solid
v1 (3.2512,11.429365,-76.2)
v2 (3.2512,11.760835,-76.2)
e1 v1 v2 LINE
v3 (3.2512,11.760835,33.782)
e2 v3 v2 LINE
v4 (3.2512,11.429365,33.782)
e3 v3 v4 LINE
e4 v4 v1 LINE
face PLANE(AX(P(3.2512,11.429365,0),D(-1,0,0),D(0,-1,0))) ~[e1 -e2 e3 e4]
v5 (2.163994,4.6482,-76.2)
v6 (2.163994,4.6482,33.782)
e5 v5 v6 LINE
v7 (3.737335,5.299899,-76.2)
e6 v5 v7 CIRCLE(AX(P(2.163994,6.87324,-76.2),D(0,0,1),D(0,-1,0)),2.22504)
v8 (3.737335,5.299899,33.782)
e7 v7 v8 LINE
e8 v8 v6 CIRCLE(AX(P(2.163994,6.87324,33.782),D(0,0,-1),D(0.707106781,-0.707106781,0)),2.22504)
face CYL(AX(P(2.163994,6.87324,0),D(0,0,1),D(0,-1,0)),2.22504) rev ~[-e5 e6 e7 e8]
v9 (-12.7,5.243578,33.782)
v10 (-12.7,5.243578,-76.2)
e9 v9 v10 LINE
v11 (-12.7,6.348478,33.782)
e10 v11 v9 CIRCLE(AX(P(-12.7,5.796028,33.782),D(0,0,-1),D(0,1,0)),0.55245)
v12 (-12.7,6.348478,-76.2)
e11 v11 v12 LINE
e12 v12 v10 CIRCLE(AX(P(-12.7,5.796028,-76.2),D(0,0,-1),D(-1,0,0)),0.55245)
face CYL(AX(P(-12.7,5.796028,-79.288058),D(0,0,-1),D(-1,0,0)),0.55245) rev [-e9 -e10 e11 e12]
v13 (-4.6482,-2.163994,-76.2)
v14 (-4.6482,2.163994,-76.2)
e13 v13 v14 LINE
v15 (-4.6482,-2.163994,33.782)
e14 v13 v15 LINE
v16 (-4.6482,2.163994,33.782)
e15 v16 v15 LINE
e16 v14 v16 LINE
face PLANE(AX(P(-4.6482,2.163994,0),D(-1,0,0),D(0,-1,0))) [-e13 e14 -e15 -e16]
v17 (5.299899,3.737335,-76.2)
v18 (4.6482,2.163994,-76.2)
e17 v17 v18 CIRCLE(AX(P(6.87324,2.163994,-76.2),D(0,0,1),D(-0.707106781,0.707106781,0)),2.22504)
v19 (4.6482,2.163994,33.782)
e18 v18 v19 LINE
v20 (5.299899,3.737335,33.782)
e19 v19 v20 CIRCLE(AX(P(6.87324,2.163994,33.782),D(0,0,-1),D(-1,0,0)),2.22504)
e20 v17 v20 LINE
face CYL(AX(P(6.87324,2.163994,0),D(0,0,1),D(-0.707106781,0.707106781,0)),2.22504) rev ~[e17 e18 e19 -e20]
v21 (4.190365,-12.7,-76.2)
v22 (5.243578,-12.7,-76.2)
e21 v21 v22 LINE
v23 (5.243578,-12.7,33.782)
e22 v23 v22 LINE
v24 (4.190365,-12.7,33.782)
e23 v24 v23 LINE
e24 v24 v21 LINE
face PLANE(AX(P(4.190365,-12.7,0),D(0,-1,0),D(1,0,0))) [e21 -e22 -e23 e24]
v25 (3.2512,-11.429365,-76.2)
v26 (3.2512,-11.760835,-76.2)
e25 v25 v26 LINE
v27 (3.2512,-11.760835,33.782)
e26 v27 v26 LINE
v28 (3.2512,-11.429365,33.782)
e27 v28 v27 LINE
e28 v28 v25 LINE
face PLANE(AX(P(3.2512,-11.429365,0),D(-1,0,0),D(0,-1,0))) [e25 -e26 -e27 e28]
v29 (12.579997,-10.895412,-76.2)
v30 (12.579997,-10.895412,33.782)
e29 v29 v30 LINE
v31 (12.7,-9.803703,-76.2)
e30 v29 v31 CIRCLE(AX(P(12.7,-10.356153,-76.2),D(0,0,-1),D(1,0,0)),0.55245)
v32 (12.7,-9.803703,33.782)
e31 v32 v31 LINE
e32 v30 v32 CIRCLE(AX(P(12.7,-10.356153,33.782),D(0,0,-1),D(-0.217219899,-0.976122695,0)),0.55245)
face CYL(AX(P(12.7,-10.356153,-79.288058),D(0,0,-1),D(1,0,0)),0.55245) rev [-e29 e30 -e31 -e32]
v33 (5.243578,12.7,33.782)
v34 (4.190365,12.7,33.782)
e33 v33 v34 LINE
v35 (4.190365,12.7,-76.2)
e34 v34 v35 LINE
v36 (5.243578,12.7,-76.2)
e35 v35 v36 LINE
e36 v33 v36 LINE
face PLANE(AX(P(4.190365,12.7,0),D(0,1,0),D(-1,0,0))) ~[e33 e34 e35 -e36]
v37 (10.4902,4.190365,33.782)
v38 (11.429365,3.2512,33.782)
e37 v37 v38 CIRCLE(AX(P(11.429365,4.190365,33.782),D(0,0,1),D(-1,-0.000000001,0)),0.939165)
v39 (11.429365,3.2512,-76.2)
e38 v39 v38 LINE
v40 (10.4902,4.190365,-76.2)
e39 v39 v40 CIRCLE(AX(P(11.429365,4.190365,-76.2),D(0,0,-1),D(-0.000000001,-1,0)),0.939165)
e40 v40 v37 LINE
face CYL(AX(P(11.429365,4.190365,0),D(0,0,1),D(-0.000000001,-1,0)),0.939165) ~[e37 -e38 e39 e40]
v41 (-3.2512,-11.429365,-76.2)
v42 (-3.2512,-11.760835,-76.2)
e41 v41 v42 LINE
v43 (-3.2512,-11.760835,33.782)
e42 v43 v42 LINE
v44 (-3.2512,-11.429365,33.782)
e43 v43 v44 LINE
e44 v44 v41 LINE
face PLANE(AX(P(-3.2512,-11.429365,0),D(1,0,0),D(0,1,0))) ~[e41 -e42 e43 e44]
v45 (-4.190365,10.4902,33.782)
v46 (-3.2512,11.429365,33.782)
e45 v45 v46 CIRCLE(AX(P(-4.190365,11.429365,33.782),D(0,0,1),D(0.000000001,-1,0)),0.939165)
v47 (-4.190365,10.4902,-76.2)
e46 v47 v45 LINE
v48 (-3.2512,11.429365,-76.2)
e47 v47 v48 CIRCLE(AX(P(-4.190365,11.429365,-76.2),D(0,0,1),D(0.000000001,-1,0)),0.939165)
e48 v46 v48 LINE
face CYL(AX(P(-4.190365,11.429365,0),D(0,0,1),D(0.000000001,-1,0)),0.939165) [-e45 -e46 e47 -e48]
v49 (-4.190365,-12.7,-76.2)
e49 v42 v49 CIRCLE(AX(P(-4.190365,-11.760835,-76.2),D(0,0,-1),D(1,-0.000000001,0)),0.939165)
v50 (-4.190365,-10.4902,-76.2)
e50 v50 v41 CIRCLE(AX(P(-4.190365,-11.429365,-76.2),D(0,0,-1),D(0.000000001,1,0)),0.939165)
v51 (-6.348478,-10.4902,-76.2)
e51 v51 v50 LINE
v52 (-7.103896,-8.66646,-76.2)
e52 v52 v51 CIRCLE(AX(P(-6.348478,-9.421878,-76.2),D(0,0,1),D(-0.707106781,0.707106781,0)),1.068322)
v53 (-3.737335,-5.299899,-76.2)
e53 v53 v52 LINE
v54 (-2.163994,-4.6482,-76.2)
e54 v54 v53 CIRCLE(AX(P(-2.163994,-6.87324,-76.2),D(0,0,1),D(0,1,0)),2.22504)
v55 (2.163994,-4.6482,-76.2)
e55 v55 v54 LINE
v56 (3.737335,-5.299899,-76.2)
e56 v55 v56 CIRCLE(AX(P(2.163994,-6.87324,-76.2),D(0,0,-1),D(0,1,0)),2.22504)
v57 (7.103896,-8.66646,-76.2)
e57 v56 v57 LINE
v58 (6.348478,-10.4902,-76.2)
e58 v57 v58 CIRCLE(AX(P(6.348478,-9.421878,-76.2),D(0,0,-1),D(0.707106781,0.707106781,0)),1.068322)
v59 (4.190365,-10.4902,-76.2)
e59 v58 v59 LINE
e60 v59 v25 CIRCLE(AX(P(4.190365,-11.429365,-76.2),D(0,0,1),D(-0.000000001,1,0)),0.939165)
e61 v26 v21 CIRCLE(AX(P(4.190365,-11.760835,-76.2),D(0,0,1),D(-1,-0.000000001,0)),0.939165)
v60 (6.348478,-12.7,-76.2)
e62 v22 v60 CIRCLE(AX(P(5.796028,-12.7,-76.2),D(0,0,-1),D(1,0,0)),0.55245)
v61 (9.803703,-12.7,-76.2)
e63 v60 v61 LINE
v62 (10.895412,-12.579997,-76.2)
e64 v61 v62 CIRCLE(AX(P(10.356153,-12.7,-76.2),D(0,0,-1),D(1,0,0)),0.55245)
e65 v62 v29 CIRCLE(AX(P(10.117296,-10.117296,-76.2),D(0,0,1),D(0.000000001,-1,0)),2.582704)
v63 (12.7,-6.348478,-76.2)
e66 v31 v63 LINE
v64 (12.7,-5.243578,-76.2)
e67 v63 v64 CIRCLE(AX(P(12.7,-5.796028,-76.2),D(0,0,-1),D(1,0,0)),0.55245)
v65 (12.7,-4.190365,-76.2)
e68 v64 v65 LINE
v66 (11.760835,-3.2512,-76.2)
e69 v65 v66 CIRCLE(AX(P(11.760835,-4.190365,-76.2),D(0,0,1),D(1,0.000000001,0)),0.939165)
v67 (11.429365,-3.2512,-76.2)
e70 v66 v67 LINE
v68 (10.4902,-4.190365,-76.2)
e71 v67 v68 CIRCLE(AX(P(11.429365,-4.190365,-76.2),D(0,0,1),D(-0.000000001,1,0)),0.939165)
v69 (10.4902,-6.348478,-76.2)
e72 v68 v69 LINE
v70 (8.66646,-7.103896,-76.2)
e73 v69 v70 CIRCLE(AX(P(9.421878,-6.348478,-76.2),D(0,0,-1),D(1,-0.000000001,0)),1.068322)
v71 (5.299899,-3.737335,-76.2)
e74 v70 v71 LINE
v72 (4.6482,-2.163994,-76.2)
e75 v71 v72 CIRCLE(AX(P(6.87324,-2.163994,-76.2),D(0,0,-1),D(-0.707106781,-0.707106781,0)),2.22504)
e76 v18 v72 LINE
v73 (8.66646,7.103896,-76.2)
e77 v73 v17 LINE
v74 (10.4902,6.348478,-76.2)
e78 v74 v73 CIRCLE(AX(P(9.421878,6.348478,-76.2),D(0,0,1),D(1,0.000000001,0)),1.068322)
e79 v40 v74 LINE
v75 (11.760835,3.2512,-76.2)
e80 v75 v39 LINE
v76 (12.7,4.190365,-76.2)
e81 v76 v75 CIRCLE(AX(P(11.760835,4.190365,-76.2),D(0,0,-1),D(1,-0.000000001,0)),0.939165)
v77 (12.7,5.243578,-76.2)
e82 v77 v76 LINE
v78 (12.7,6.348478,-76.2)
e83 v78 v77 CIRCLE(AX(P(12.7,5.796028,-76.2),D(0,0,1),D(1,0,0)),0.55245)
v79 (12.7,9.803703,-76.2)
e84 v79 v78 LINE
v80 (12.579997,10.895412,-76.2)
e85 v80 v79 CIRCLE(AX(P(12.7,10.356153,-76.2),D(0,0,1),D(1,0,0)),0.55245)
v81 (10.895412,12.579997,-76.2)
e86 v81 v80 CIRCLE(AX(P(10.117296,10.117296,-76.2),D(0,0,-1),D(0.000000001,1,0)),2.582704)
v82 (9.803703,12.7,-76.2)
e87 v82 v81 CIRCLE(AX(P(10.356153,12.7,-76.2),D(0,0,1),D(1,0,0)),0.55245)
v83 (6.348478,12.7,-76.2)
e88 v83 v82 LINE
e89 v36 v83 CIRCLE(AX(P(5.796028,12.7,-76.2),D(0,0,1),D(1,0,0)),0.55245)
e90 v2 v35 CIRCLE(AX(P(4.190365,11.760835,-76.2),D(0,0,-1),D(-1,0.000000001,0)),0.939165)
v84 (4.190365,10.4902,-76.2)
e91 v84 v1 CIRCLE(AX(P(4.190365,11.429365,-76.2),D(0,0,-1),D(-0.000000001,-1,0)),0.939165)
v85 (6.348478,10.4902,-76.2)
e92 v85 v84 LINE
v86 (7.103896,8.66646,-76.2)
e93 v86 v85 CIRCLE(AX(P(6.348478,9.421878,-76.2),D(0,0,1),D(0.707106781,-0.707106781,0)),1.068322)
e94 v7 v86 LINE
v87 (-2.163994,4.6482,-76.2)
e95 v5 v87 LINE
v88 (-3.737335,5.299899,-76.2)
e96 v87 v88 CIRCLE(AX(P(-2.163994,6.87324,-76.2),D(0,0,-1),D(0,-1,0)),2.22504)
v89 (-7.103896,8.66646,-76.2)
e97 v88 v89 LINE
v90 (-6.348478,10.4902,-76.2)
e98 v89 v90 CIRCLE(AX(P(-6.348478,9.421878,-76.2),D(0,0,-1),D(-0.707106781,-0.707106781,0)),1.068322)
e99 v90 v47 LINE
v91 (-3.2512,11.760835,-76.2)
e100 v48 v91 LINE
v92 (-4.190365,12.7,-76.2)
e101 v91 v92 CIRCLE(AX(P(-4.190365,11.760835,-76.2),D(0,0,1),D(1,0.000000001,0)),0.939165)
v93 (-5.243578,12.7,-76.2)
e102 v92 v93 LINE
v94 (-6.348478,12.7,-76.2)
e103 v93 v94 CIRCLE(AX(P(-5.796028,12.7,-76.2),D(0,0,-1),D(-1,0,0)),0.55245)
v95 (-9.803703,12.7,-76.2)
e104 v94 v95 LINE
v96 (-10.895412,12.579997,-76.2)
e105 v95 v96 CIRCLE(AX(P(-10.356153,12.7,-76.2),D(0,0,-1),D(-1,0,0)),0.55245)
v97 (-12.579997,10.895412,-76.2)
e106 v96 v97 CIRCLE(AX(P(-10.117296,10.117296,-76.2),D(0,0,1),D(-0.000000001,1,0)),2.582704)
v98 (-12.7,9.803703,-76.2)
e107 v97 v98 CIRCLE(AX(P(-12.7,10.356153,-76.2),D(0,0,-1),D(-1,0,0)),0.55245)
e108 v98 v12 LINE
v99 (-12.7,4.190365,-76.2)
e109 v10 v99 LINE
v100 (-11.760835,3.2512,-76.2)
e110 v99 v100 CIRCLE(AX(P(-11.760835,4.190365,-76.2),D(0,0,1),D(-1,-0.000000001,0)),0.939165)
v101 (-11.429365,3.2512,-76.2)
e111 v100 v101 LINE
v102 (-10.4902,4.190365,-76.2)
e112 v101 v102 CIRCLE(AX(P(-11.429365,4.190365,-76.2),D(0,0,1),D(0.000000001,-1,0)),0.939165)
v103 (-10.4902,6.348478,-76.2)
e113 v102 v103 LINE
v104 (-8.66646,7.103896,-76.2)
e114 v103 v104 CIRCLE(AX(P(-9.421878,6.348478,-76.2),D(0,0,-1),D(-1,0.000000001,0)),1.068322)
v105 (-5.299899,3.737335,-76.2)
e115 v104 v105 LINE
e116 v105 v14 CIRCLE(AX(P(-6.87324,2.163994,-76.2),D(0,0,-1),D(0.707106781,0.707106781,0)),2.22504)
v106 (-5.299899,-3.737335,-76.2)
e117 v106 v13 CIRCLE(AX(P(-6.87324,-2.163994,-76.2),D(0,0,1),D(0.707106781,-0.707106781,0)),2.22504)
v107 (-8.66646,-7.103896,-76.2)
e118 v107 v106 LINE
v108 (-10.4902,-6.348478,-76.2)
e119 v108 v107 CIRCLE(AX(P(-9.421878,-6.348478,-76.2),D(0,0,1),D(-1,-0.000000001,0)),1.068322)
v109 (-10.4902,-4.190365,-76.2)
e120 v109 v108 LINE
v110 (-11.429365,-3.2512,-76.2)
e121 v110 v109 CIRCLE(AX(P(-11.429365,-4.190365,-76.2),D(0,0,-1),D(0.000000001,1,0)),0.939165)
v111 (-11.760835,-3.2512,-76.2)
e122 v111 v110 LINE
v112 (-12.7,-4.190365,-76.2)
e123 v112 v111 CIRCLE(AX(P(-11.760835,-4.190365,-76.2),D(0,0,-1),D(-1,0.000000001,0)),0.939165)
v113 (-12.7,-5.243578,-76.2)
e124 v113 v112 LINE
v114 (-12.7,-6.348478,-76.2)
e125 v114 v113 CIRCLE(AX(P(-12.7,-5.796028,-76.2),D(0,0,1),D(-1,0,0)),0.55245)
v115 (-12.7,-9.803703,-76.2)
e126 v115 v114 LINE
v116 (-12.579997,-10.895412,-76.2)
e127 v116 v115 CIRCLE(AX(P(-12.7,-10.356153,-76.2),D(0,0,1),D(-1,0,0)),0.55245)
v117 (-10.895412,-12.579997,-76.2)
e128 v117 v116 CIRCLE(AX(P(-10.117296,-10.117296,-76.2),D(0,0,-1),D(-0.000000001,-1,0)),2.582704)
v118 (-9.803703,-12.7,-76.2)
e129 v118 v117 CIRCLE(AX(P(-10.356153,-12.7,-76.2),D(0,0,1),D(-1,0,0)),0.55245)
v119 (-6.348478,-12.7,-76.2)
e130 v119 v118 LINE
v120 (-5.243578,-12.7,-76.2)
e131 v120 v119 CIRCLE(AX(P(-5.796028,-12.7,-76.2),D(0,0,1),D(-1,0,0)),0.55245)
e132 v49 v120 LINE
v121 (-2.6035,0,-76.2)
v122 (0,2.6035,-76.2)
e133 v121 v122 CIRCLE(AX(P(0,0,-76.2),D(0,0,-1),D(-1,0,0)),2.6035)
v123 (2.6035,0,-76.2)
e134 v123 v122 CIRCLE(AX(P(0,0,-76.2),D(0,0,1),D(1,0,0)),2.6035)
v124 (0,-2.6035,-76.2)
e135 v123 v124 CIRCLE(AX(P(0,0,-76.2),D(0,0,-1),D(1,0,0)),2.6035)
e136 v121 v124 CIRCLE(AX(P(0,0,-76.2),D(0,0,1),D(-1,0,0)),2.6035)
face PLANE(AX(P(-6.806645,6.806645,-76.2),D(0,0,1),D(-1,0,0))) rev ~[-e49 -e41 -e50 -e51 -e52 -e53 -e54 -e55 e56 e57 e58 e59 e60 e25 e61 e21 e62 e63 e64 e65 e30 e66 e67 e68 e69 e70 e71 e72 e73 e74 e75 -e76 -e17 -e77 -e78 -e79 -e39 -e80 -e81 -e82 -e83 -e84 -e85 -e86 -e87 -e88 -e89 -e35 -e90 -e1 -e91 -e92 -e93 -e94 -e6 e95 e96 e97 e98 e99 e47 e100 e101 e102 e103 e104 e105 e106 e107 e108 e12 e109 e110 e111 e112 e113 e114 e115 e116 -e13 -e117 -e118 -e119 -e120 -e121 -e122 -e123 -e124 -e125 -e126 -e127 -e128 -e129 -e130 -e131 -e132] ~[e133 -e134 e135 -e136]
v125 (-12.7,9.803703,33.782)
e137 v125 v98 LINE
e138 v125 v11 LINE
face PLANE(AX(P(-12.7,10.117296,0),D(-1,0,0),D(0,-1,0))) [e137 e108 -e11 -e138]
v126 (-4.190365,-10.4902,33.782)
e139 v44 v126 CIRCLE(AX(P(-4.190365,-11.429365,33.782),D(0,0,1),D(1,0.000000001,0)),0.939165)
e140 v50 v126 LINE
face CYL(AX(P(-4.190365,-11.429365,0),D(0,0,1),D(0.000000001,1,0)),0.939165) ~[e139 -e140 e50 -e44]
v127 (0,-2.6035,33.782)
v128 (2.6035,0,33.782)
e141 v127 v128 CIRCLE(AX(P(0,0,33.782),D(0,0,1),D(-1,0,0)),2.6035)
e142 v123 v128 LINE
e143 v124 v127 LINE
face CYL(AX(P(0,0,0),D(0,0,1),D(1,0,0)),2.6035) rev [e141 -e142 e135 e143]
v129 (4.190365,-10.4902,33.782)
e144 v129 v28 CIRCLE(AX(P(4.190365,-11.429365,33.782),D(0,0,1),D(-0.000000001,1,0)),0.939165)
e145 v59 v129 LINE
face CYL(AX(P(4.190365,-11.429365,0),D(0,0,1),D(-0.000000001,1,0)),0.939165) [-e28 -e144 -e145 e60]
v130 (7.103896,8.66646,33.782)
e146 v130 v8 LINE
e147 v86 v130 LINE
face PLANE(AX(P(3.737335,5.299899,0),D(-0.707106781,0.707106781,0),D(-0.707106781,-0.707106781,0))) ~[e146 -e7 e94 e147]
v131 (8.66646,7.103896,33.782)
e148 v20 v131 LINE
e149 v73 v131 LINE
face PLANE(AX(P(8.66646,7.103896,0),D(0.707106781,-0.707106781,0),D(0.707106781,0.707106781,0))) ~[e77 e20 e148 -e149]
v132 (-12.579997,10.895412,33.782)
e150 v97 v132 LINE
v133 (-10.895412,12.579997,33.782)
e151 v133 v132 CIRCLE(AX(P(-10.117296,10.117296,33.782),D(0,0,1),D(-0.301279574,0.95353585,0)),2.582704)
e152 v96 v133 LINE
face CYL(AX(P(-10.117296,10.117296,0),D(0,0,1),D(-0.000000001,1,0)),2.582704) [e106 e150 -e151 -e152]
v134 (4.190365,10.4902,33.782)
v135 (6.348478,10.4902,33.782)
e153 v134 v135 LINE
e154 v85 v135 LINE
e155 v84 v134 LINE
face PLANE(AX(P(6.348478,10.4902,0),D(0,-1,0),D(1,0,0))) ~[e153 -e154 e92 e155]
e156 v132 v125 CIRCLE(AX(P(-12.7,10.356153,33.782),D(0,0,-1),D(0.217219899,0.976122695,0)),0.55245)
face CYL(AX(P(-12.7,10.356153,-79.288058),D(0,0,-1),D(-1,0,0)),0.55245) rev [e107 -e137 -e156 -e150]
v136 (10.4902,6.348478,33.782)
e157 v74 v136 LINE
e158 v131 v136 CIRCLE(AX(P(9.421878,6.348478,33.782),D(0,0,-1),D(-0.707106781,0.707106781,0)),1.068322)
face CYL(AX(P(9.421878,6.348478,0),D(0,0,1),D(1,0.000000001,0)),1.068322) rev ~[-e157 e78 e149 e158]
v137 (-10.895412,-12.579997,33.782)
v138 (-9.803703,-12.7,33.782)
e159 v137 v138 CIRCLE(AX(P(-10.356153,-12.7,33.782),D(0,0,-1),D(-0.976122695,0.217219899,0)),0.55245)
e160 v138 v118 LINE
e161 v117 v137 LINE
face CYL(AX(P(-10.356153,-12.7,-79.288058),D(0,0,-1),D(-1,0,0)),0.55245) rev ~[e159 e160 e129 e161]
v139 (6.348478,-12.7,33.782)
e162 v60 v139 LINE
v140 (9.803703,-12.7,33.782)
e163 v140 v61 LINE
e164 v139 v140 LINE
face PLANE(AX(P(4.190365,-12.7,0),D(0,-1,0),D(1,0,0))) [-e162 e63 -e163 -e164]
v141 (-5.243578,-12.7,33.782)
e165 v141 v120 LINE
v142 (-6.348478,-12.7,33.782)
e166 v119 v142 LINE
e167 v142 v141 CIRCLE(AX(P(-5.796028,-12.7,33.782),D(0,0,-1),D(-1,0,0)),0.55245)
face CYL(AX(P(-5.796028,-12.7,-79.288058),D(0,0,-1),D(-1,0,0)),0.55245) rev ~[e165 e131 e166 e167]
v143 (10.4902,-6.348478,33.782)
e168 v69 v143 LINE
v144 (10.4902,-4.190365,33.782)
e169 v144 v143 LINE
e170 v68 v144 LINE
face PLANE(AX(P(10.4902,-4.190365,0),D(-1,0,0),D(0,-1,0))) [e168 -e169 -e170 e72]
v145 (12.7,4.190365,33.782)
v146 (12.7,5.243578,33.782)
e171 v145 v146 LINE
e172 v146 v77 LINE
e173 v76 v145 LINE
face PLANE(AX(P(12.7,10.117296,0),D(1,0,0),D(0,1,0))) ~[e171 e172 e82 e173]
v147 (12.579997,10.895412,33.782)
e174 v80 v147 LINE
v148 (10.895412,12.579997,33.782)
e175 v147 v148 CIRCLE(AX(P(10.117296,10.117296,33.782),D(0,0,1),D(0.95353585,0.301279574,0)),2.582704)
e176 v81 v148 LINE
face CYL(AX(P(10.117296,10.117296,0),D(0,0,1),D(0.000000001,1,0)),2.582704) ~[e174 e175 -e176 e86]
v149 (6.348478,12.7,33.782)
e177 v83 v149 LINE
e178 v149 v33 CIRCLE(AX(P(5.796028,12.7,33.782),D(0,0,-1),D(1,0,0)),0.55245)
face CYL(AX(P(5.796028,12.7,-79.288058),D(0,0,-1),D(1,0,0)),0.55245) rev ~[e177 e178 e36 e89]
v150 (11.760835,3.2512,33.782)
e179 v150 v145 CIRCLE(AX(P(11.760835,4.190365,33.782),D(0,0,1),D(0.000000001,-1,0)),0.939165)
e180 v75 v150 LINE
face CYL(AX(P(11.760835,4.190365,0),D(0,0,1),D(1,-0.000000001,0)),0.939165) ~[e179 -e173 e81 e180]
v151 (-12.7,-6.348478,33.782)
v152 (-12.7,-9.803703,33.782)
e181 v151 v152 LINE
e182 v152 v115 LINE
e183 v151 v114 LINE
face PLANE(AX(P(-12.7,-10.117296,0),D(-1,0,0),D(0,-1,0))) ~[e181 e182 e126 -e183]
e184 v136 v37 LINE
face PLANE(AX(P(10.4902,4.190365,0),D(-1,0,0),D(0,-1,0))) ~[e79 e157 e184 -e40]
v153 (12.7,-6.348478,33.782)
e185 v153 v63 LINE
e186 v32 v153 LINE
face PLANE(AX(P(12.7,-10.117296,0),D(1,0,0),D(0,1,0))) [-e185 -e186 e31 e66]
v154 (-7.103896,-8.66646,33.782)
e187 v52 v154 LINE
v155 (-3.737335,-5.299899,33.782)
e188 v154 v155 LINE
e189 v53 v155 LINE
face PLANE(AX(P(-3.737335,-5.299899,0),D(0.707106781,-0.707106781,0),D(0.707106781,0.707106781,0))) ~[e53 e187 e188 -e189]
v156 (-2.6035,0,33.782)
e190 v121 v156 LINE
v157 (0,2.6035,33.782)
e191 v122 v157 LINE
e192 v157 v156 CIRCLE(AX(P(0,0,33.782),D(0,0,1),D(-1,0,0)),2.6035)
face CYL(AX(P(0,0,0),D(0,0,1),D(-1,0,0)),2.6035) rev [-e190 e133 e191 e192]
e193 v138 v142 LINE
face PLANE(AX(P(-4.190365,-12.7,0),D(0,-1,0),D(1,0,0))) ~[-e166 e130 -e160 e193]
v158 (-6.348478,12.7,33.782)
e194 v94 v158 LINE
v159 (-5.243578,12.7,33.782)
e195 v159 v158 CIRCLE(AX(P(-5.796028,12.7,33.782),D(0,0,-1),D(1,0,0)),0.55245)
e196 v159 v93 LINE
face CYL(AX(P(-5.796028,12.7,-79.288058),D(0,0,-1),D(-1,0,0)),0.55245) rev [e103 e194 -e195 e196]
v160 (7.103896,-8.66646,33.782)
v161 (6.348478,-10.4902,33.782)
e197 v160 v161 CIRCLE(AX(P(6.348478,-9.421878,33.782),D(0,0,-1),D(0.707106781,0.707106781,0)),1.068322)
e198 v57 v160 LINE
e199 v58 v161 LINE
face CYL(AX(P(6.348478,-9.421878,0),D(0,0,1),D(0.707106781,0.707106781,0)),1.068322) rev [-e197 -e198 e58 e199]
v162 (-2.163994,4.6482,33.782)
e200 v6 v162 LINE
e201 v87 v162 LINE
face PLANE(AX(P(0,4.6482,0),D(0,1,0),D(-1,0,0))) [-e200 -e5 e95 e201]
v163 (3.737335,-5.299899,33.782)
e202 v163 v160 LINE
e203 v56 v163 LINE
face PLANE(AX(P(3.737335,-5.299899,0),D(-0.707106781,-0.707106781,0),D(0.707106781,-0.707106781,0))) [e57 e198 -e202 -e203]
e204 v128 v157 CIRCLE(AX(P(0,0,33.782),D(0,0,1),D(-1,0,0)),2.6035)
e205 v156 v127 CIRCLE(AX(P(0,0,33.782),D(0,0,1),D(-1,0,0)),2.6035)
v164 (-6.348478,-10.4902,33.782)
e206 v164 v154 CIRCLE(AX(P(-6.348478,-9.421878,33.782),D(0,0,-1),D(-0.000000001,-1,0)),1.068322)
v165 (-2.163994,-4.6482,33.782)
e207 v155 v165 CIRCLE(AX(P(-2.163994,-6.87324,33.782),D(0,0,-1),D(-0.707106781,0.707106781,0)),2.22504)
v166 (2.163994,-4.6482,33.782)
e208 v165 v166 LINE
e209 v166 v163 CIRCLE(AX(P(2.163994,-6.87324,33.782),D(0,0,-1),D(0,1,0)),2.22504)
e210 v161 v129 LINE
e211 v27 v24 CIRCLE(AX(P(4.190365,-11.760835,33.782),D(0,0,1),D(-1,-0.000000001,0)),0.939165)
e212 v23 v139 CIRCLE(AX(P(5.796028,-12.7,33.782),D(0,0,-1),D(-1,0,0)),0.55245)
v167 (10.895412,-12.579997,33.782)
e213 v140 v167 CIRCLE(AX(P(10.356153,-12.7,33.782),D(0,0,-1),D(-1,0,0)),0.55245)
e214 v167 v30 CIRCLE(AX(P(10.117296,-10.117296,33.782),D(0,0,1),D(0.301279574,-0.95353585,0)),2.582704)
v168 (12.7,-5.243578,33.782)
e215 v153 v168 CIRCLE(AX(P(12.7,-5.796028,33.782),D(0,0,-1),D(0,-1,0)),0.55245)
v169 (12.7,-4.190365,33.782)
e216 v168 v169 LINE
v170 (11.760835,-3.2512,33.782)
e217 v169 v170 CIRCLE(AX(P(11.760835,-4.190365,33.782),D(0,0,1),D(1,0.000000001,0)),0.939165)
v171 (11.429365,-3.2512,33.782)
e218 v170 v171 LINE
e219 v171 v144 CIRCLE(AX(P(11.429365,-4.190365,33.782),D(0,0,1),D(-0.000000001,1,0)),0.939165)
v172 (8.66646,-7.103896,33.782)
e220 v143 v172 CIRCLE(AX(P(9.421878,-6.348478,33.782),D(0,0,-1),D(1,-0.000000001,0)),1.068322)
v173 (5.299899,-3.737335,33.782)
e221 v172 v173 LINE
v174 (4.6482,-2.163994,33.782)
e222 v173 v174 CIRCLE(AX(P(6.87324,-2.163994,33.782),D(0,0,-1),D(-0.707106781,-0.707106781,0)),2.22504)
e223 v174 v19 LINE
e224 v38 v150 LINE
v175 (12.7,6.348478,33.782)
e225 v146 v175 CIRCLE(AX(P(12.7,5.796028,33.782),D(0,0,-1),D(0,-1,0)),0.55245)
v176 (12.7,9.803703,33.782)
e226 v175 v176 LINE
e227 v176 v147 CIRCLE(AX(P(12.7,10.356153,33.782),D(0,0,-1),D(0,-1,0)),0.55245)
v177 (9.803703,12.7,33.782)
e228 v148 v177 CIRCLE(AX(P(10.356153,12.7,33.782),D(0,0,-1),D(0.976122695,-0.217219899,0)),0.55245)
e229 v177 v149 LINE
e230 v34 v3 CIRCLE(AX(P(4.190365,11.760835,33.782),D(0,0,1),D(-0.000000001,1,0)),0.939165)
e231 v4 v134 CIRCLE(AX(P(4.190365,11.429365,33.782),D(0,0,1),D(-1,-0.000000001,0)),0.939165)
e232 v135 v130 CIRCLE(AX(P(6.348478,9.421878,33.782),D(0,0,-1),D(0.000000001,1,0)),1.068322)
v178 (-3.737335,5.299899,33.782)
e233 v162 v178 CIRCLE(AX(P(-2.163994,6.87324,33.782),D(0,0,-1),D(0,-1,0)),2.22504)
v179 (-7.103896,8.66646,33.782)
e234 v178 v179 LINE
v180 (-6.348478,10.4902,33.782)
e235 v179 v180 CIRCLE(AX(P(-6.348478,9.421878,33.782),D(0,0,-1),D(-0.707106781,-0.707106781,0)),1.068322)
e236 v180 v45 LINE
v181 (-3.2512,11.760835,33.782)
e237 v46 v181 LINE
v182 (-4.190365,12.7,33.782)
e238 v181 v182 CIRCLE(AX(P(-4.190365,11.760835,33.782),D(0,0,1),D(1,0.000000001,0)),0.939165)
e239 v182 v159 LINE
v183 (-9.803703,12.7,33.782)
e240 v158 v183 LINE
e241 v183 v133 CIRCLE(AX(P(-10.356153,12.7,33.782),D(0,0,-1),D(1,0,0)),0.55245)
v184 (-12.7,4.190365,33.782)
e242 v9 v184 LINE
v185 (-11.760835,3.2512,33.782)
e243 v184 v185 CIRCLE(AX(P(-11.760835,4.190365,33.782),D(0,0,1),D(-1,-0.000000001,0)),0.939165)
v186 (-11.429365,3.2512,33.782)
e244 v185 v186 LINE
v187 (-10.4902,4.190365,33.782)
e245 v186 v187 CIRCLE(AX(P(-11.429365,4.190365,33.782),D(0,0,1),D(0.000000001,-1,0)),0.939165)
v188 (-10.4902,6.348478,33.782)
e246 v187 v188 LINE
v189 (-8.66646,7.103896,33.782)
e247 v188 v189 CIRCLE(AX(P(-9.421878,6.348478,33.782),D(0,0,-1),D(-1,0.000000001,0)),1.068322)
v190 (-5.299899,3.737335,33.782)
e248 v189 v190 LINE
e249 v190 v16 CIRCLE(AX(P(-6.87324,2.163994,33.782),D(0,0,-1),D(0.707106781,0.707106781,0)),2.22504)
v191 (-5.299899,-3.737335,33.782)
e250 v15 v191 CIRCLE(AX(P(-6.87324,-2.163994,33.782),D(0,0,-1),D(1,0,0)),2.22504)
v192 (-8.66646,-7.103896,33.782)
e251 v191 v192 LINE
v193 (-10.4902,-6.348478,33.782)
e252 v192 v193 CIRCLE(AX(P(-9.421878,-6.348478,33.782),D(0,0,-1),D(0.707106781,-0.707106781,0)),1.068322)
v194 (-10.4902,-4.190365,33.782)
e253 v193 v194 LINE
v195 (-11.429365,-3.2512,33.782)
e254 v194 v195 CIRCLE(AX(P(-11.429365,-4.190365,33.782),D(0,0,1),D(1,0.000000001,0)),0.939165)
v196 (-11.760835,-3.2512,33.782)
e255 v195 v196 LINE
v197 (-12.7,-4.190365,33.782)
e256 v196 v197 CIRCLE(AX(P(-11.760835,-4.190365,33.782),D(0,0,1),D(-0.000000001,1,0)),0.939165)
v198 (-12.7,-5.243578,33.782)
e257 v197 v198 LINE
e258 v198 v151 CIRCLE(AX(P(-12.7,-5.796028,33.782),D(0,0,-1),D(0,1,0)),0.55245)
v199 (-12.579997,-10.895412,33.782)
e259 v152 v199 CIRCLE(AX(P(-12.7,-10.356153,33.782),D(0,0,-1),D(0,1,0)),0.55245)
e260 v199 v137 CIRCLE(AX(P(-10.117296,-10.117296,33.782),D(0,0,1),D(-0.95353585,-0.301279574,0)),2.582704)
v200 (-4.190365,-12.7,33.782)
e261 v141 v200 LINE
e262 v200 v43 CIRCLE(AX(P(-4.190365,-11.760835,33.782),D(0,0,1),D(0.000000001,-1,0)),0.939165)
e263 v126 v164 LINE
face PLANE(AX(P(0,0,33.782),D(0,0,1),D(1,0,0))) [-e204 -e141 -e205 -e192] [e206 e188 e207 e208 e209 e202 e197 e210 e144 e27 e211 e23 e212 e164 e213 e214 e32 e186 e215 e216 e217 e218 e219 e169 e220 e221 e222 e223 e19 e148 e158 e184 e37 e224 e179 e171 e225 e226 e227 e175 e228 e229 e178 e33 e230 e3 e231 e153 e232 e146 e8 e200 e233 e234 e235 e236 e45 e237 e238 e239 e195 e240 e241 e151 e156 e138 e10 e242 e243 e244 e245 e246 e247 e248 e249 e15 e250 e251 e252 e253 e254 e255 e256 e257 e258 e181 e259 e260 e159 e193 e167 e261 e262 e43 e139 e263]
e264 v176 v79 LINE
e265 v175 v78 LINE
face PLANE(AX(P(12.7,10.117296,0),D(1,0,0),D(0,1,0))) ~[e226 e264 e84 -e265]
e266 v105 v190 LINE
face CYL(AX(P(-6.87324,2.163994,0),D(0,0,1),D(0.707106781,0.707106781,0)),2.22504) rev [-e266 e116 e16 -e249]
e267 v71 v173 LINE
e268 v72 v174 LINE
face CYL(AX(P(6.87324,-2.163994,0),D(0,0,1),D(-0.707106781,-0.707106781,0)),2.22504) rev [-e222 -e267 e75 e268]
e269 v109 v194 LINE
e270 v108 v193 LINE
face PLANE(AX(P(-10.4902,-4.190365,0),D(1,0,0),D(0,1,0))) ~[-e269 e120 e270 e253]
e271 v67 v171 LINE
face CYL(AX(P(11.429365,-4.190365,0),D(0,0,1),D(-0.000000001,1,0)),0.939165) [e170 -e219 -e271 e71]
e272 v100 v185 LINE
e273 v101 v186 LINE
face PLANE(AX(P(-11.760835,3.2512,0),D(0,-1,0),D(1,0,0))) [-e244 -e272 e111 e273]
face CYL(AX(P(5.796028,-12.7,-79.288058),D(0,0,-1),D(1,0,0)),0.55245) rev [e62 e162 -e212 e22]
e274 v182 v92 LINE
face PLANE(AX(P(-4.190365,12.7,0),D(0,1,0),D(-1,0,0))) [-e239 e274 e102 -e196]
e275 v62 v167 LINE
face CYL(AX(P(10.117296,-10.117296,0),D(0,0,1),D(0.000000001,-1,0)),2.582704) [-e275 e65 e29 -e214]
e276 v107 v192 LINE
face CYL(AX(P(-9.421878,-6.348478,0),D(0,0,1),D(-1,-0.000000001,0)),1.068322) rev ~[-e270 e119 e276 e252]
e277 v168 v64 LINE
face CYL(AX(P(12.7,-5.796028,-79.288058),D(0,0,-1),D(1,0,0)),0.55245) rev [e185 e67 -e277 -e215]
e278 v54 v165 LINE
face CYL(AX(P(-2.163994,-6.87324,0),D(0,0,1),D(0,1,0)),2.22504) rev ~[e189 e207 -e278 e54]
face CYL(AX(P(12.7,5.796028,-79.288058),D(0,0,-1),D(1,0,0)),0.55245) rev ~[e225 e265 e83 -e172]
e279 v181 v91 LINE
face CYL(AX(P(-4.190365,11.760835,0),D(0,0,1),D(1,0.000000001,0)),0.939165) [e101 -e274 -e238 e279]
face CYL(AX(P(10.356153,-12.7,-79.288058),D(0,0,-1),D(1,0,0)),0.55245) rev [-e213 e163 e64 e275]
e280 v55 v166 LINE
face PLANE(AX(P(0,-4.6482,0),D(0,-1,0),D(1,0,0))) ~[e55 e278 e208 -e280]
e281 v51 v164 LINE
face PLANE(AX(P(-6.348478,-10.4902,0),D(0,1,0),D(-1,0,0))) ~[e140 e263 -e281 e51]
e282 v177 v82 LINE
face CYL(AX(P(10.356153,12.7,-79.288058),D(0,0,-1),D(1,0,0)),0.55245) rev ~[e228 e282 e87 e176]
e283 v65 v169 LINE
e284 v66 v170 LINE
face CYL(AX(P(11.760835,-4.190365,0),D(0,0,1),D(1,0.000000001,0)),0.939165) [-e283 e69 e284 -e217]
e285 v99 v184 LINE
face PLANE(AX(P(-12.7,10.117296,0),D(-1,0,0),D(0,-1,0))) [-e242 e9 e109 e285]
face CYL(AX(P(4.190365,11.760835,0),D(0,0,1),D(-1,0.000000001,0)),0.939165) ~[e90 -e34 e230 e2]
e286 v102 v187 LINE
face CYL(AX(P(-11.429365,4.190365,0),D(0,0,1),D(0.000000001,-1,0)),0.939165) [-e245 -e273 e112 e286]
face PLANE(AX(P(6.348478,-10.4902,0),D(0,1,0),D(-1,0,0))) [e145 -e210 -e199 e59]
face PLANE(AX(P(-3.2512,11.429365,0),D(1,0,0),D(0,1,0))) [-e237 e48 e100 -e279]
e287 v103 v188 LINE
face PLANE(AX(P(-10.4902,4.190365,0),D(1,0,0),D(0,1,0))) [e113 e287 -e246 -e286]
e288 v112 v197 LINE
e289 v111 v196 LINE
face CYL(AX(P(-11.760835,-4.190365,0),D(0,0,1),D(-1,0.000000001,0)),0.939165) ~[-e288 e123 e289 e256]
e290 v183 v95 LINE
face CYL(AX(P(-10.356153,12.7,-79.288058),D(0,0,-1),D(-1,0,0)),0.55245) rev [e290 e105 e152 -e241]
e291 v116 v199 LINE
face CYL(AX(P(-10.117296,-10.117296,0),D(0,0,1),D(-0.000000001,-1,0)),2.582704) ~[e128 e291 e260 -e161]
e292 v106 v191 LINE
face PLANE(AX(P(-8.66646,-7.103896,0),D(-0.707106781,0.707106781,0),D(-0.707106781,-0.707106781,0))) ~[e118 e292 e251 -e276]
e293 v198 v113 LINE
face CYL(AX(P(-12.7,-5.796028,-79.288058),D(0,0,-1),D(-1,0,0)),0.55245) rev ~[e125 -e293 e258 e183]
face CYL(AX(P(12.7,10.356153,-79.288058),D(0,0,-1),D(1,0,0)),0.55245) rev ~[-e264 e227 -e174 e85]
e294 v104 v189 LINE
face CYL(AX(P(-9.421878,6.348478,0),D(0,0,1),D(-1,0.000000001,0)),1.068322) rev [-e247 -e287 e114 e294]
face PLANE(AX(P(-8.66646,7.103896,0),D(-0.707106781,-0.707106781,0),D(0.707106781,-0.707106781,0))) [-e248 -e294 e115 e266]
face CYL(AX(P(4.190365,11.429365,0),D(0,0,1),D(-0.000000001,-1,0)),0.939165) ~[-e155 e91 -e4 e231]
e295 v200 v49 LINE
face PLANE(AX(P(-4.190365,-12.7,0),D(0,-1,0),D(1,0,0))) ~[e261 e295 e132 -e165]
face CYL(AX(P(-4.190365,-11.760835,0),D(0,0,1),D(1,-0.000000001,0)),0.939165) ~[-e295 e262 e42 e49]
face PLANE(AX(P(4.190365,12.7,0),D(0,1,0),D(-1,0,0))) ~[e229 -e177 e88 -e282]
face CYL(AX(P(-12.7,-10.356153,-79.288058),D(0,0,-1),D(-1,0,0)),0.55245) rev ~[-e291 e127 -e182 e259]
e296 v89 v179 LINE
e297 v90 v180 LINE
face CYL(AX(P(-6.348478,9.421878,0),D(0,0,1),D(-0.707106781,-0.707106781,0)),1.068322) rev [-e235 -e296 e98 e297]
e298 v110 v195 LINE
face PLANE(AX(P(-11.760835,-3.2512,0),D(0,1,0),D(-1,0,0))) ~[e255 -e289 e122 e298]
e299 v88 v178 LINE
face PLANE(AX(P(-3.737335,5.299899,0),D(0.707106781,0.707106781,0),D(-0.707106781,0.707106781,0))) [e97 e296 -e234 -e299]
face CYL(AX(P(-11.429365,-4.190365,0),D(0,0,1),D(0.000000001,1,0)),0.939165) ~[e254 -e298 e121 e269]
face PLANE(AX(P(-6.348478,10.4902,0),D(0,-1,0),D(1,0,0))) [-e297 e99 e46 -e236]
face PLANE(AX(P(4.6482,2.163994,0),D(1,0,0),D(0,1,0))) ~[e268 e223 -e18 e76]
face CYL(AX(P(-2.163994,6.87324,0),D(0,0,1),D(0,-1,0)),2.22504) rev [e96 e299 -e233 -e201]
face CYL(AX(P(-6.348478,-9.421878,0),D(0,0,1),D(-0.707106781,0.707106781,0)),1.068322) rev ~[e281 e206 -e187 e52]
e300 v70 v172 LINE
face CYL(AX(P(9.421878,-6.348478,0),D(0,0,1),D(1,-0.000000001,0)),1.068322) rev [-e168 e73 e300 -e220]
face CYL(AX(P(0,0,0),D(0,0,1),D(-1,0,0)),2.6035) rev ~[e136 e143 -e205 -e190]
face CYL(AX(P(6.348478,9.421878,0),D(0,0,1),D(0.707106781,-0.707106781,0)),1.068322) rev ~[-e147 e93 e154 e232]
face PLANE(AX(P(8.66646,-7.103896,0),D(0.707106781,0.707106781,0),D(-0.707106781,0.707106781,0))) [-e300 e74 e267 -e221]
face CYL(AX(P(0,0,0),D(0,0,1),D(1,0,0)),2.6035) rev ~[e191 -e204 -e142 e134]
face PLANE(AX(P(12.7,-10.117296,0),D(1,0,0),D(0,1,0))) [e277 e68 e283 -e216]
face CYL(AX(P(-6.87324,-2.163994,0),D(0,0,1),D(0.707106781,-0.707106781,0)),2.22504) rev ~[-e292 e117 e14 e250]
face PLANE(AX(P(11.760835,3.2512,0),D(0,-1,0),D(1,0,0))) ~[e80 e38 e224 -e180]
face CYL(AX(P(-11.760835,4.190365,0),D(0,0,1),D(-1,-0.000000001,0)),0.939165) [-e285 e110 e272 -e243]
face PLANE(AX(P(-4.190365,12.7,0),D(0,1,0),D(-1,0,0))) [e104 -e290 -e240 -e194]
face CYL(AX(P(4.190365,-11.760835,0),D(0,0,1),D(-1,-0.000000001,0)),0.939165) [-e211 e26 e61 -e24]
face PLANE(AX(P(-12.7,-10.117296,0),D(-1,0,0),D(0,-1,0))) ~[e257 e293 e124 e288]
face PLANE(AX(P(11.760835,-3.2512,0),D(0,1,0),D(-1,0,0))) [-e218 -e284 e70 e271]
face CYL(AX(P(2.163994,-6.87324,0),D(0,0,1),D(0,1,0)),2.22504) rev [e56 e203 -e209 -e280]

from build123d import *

# Parameters (mm, degrees)
BOSS_EXTRUDE1_DEPTH     = 76.2
CUT_EXTRUDE1_DEPTH      = 79.288057838
CUT_EXTRUDE1_DEPTH_BACK = 79.288057838
SKETCH5_R               = 0.55245
SKETCH6_R               = 2.6035
CUT_EXTRUDE3_DEPTH      = 42.418


with BuildPart() as part:
    # Sketch4 → Boss-Extrude1 (new, symmetric)
    with BuildSketch(Plane.XY):
        with BuildLine():
            Line((4.190365, -12.7), (10.11729625, -12.7))
            ThreePointArc((10.11729625, -12.7), (11.943543585, -11.943543585), (12.7, -10.11729625))
            Line((12.7, -10.11729625), (12.7, -4.190365))
            ThreePointArc((12.7, -4.190365), (12.42492494, -3.52627506), (11.760835, -3.2512))
            Line((11.760835, -3.2512), (11.429365, -3.2512))
            ThreePointArc((11.429365, -3.2512), (10.76527506, -3.52627506), (10.4902, -4.190365))
            Line((10.4902, -4.190365), (10.4902, -6.348478019))
            ThreePointArc((10.4902, -6.348478019), (9.830707141, -7.335478831), (8.666460301, -7.103895736))
            Line((8.666460301, -7.103895736), (5.299899128, -3.737334563))
            ThreePointArc((5.299899128, -3.737334563), (4.817571085, -3.015479634), (4.6482, -2.16399369))
            Line((4.6482, -2.16399369), (4.6482, 0))
            Line((4.6482, 0), (2.6035, 0))
            ThreePointArc((2.6035, 0), (1.840952505, -1.840952505), (0, -2.6035))
            Line((0, -2.6035), (0, -4.6482))
            Line((0, -4.6482), (2.16399369, -4.6482))
            ThreePointArc((2.16399369, -4.6482), (3.015479634, -4.817571085), (3.737334563, -5.299899128))
            Line((3.737334563, -5.299899128), (7.103895736, -8.666460301))
            ThreePointArc((7.103895736, -8.666460301), (7.335478831, -9.830707141), (6.348478019, -10.4902))
            Line((6.348478019, -10.4902), (4.190365, -10.4902))
            ThreePointArc((4.190365, -10.4902), (3.52627506, -10.76527506), (3.2512, -11.429365))
            Line((3.2512, -11.429365), (3.2512, -11.760835))
            ThreePointArc((3.2512, -11.760835), (3.52627506, -12.42492494), (4.190365, -12.7))
        make_face()
    extrude(amount=BOSS_EXTRUDE1_DEPTH, both=True)

    # Sketch5 → Cut-Extrude1 (cut, two sides: drawn at the far end of the back side and taken through both)
    with BuildSketch(Plane.XY.offset(-CUT_EXTRUDE1_DEPTH_BACK)):
        with Locations((10.356153152, -12.7)):
            Circle(SKETCH5_R)
        with Locations((5.796028019, -12.7)):
            Circle(SKETCH5_R)
        with Locations((12.7, -10.356153152)):
            Circle(SKETCH5_R)
        with Locations((12.7, -5.796028019)):
            Circle(SKETCH5_R)
    extrude(amount=CUT_EXTRUDE1_DEPTH + CUT_EXTRUDE1_DEPTH_BACK, mode=Mode.SUBTRACT)

    # Mirror1: part across plane


with BuildPart() as part_1:
    add(part.part)
    add(part.part.mirror(Plane(origin=(0, 0, 0), x_dir=(0, 0, 1), z_dir=(1, 0, 0))))

    # Mirror2: part across plane


with BuildPart() as part_2:
    add(part_1.part)
    add(part_1.part.mirror(Plane.ZX))

    # Sketch6 → Cut-Extrude3 (cut)
    with BuildSketch(Plane.XY.offset(76.2)):
        with BuildLine():
            Line((12.7, -5.243578019), (12.7, -4.190365))
            ThreePointArc((12.7, -4.190365), (12.42492494, -3.52627506), (11.760835, -3.2512))
            Line((11.760835, -3.2512), (11.429365, -3.2512))
            ThreePointArc((11.429365, -3.2512), (10.76527506, -3.52627506), (10.4902, -4.190365))
            Line((10.4902, -4.190365), (10.4902, -6.348478019))
            ThreePointArc((10.4902, -6.348478019), (9.830707141, -7.335478831), (8.666460301, -7.103895736))
            Line((8.666460301, -7.103895736), (5.299899128, -3.737334563))
            ThreePointArc((5.299899128, -3.737334563), (4.817571085, -3.015479634), (4.6482, -2.16399369))
            Line((4.6482, -2.16399369), (4.6482, 2.16399369))
            ThreePointArc((4.6482, 2.16399369), (4.817571085, 3.015479634), (5.299899128, 3.737334563))
            Line((5.299899128, 3.737334563), (8.666460301, 7.103895736))
            ThreePointArc((8.666460301, 7.103895736), (9.830707141, 7.335478831), (10.4902, 6.348478019))
            Line((10.4902, 6.348478019), (10.4902, 4.190365))
            ThreePointArc((10.4902, 4.190365), (10.76527506, 3.52627506), (11.429365, 3.2512))
            Line((11.429365, 3.2512), (11.760835, 3.2512))
            ThreePointArc((11.760835, 3.2512), (12.42492494, 3.52627506), (12.7, 4.190365))
            Line((12.7, 4.190365), (12.7, 5.243578019))
            ThreePointArc((12.7, 5.243578019), (12.14755, 5.796028019), (12.7, 6.348478019))
            Line((12.7, 6.348478019), (12.7, 9.803703152))
            ThreePointArc((12.7, 9.803703152), (12.150857656, 10.295790178), (12.579996867, 10.895412135))
            ThreePointArc((12.579996867, 10.895412135), (11.943543585, 11.943543585), (10.895412135, 12.579996867))
            ThreePointArc((10.895412135, 12.579996867), (10.295790178, 12.150857656), (9.803703152, 12.7))
            Line((9.803703152, 12.7), (6.348478019, 12.7))
            ThreePointArc((6.348478019, 12.7), (5.796028019, 12.14755), (5.243578019, 12.7))
            Line((5.243578019, 12.7), (4.190365, 12.7))
            ThreePointArc((4.190365, 12.7), (3.52627506, 12.42492494), (3.2512, 11.760835))
            Line((3.2512, 11.760835), (3.2512, 11.429365))
            ThreePointArc((3.2512, 11.429365), (3.52627506, 10.76527506), (4.190365, 10.4902))
            Line((4.190365, 10.4902), (6.348478019, 10.4902))
            ThreePointArc((6.348478019, 10.4902), (7.335478831, 9.830707141), (7.103895736, 8.666460301))
            Line((7.103895736, 8.666460301), (3.737334563, 5.299899128))
            ThreePointArc((3.737334563, 5.299899128), (3.015479634, 4.817571085), (2.16399369, 4.6482))
            Line((2.16399369, 4.6482), (-2.16399369, 4.6482))
            ThreePointArc((-2.16399369, 4.6482), (-3.015479634, 4.817571085), (-3.737334563, 5.299899128))
            Line((-3.737334563, 5.299899128), (-7.103895736, 8.666460301))
            ThreePointArc((-7.103895736, 8.666460301), (-7.335478831, 9.830707141), (-6.348478019, 10.4902))
            Line((-6.348478019, 10.4902), (-4.190365, 10.4902))
            ThreePointArc((-4.190365, 10.4902), (-3.52627506, 10.76527506), (-3.2512, 11.429365))
            Line((-3.2512, 11.429365), (-3.2512, 11.760835))
            ThreePointArc((-3.2512, 11.760835), (-3.52627506, 12.42492494), (-4.190365, 12.7))
            Line((-4.190365, 12.7), (-5.243578019, 12.7))
            ThreePointArc((-5.243578019, 12.7), (-5.796028019, 12.14755), (-6.348478019, 12.7))
            Line((-6.348478019, 12.7), (-9.803703152, 12.7))
            ThreePointArc((-9.803703152, 12.7), (-10.295790178, 12.150857656), (-10.895412135, 12.579996867))
            ThreePointArc((-10.895412135, 12.579996867), (-11.943543585, 11.943543585), (-12.579996867, 10.895412135))
            ThreePointArc((-12.579996867, 10.895412135), (-12.150857656, 10.295790178), (-12.7, 9.803703152))
            Line((-12.7, 9.803703152), (-12.7, 6.348478019))
            ThreePointArc((-12.7, 6.348478019), (-12.14755, 5.796028019), (-12.7, 5.243578019))
            Line((-12.7, 5.243578019), (-12.7, 4.190365))
            ThreePointArc((-12.7, 4.190365), (-12.42492494, 3.52627506), (-11.760835, 3.2512))
            Line((-11.760835, 3.2512), (-11.429365, 3.2512))
            ThreePointArc((-11.429365, 3.2512), (-10.76527506, 3.52627506), (-10.4902, 4.190365))
            Line((-10.4902, 4.190365), (-10.4902, 6.348478019))
            ThreePointArc((-10.4902, 6.348478019), (-9.830707141, 7.335478831), (-8.666460301, 7.103895736))
            Line((-8.666460301, 7.103895736), (-5.299899128, 3.737334563))
            ThreePointArc((-5.299899128, 3.737334563), (-4.817571085, 3.015479634), (-4.6482, 2.16399369))
            Line((-4.6482, 2.16399369), (-4.6482, -2.16399369))
            ThreePointArc((-4.6482, -2.16399369), (-4.817571085, -3.015479634), (-5.299899128, -3.737334563))
            Line((-5.299899128, -3.737334563), (-8.666460301, -7.103895736))
            ThreePointArc((-8.666460301, -7.103895736), (-9.830707141, -7.335478831), (-10.4902, -6.348478019))
            Line((-10.4902, -6.348478019), (-10.4902, -4.190365))
            ThreePointArc((-10.4902, -4.190365), (-10.76527506, -3.52627506), (-11.429365, -3.2512))
            Line((-11.429365, -3.2512), (-11.760835, -3.2512))
            ThreePointArc((-11.760835, -3.2512), (-12.42492494, -3.52627506), (-12.7, -4.190365))
            Line((-12.7, -4.190365), (-12.7, -5.243578019))
            ThreePointArc((-12.7, -5.243578019), (-12.14755, -5.796028019), (-12.7, -6.348478019))
            Line((-12.7, -6.348478019), (-12.7, -9.803703152))
            ThreePointArc((-12.7, -9.803703152), (-12.150857656, -10.295790178), (-12.579996867, -10.895412135))
            ThreePointArc((-12.579996867, -10.895412135), (-11.943543585, -11.943543585), (-10.895412135, -12.579996867))
            ThreePointArc((-10.895412135, -12.579996867), (-10.295790178, -12.150857656), (-9.803703152, -12.7))
            Line((-9.803703152, -12.7), (-6.348478019, -12.7))
            ThreePointArc((-6.348478019, -12.7), (-5.796028019, -12.14755), (-5.243578019, -12.7))
            Line((-5.243578019, -12.7), (-4.190365, -12.7))
            ThreePointArc((-4.190365, -12.7), (-3.52627506, -12.42492494), (-3.2512, -11.760835))
            Line((-3.2512, -11.760835), (-3.2512, -11.429365))
            ThreePointArc((-3.2512, -11.429365), (-3.52627506, -10.76527506), (-4.190365, -10.4902))
            Line((-4.190365, -10.4902), (-6.348478019, -10.4902))
            ThreePointArc((-6.348478019, -10.4902), (-7.335478831, -9.830707141), (-7.103895736, -8.666460301))
            Line((-7.103895736, -8.666460301), (-3.737334563, -5.299899128))
            ThreePointArc((-3.737334563, -5.299899128), (-3.015479634, -4.817571085), (-2.16399369, -4.6482))
            Line((-2.16399369, -4.6482), (2.16399369, -4.6482))
            ThreePointArc((2.16399369, -4.6482), (3.015479634, -4.817571085), (3.737334563, -5.299899128))
            Line((3.737334563, -5.299899128), (7.103895736, -8.666460301))
            ThreePointArc((7.103895736, -8.666460301), (7.335478831, -9.830707141), (6.348478019, -10.4902))
            Line((6.348478019, -10.4902), (4.190365, -10.4902))
            ThreePointArc((4.190365, -10.4902), (3.52627506, -10.76527506), (3.2512, -11.429365))
            Line((3.2512, -11.429365), (3.2512, -11.760835))
            ThreePointArc((3.2512, -11.760835), (3.52627506, -12.42492494), (4.190365, -12.7))
            Line((4.190365, -12.7), (5.243578019, -12.7))
            ThreePointArc((5.243578019, -12.7), (5.796028019, -12.14755), (6.348478019, -12.7))
            Line((6.348478019, -12.7), (9.803703152, -12.7))
            ThreePointArc((9.803703152, -12.7), (10.295790178, -12.150857656), (10.895412135, -12.579996867))
            ThreePointArc((10.895412135, -12.579996867), (11.943543585, -11.943543585), (12.579996867, -10.895412135))
            ThreePointArc((12.579996867, -10.895412135), (12.150857656, -10.295790178), (12.7, -9.803703152))
            Line((12.7, -9.803703152), (12.7, -6.348478019))
            ThreePointArc((12.7, -6.348478019), (12.14755, -5.796028019), (12.7, -5.243578019))
        make_face()
        with Locations(Location((0, 0, 0), (0, 0, 180))):
            Circle(SKETCH6_R, mode=Mode.SUBTRACT)
    extrude(amount=-CUT_EXTRUDE3_DEPTH, mode=Mode.SUBTRACT)


solid = part_2.part
